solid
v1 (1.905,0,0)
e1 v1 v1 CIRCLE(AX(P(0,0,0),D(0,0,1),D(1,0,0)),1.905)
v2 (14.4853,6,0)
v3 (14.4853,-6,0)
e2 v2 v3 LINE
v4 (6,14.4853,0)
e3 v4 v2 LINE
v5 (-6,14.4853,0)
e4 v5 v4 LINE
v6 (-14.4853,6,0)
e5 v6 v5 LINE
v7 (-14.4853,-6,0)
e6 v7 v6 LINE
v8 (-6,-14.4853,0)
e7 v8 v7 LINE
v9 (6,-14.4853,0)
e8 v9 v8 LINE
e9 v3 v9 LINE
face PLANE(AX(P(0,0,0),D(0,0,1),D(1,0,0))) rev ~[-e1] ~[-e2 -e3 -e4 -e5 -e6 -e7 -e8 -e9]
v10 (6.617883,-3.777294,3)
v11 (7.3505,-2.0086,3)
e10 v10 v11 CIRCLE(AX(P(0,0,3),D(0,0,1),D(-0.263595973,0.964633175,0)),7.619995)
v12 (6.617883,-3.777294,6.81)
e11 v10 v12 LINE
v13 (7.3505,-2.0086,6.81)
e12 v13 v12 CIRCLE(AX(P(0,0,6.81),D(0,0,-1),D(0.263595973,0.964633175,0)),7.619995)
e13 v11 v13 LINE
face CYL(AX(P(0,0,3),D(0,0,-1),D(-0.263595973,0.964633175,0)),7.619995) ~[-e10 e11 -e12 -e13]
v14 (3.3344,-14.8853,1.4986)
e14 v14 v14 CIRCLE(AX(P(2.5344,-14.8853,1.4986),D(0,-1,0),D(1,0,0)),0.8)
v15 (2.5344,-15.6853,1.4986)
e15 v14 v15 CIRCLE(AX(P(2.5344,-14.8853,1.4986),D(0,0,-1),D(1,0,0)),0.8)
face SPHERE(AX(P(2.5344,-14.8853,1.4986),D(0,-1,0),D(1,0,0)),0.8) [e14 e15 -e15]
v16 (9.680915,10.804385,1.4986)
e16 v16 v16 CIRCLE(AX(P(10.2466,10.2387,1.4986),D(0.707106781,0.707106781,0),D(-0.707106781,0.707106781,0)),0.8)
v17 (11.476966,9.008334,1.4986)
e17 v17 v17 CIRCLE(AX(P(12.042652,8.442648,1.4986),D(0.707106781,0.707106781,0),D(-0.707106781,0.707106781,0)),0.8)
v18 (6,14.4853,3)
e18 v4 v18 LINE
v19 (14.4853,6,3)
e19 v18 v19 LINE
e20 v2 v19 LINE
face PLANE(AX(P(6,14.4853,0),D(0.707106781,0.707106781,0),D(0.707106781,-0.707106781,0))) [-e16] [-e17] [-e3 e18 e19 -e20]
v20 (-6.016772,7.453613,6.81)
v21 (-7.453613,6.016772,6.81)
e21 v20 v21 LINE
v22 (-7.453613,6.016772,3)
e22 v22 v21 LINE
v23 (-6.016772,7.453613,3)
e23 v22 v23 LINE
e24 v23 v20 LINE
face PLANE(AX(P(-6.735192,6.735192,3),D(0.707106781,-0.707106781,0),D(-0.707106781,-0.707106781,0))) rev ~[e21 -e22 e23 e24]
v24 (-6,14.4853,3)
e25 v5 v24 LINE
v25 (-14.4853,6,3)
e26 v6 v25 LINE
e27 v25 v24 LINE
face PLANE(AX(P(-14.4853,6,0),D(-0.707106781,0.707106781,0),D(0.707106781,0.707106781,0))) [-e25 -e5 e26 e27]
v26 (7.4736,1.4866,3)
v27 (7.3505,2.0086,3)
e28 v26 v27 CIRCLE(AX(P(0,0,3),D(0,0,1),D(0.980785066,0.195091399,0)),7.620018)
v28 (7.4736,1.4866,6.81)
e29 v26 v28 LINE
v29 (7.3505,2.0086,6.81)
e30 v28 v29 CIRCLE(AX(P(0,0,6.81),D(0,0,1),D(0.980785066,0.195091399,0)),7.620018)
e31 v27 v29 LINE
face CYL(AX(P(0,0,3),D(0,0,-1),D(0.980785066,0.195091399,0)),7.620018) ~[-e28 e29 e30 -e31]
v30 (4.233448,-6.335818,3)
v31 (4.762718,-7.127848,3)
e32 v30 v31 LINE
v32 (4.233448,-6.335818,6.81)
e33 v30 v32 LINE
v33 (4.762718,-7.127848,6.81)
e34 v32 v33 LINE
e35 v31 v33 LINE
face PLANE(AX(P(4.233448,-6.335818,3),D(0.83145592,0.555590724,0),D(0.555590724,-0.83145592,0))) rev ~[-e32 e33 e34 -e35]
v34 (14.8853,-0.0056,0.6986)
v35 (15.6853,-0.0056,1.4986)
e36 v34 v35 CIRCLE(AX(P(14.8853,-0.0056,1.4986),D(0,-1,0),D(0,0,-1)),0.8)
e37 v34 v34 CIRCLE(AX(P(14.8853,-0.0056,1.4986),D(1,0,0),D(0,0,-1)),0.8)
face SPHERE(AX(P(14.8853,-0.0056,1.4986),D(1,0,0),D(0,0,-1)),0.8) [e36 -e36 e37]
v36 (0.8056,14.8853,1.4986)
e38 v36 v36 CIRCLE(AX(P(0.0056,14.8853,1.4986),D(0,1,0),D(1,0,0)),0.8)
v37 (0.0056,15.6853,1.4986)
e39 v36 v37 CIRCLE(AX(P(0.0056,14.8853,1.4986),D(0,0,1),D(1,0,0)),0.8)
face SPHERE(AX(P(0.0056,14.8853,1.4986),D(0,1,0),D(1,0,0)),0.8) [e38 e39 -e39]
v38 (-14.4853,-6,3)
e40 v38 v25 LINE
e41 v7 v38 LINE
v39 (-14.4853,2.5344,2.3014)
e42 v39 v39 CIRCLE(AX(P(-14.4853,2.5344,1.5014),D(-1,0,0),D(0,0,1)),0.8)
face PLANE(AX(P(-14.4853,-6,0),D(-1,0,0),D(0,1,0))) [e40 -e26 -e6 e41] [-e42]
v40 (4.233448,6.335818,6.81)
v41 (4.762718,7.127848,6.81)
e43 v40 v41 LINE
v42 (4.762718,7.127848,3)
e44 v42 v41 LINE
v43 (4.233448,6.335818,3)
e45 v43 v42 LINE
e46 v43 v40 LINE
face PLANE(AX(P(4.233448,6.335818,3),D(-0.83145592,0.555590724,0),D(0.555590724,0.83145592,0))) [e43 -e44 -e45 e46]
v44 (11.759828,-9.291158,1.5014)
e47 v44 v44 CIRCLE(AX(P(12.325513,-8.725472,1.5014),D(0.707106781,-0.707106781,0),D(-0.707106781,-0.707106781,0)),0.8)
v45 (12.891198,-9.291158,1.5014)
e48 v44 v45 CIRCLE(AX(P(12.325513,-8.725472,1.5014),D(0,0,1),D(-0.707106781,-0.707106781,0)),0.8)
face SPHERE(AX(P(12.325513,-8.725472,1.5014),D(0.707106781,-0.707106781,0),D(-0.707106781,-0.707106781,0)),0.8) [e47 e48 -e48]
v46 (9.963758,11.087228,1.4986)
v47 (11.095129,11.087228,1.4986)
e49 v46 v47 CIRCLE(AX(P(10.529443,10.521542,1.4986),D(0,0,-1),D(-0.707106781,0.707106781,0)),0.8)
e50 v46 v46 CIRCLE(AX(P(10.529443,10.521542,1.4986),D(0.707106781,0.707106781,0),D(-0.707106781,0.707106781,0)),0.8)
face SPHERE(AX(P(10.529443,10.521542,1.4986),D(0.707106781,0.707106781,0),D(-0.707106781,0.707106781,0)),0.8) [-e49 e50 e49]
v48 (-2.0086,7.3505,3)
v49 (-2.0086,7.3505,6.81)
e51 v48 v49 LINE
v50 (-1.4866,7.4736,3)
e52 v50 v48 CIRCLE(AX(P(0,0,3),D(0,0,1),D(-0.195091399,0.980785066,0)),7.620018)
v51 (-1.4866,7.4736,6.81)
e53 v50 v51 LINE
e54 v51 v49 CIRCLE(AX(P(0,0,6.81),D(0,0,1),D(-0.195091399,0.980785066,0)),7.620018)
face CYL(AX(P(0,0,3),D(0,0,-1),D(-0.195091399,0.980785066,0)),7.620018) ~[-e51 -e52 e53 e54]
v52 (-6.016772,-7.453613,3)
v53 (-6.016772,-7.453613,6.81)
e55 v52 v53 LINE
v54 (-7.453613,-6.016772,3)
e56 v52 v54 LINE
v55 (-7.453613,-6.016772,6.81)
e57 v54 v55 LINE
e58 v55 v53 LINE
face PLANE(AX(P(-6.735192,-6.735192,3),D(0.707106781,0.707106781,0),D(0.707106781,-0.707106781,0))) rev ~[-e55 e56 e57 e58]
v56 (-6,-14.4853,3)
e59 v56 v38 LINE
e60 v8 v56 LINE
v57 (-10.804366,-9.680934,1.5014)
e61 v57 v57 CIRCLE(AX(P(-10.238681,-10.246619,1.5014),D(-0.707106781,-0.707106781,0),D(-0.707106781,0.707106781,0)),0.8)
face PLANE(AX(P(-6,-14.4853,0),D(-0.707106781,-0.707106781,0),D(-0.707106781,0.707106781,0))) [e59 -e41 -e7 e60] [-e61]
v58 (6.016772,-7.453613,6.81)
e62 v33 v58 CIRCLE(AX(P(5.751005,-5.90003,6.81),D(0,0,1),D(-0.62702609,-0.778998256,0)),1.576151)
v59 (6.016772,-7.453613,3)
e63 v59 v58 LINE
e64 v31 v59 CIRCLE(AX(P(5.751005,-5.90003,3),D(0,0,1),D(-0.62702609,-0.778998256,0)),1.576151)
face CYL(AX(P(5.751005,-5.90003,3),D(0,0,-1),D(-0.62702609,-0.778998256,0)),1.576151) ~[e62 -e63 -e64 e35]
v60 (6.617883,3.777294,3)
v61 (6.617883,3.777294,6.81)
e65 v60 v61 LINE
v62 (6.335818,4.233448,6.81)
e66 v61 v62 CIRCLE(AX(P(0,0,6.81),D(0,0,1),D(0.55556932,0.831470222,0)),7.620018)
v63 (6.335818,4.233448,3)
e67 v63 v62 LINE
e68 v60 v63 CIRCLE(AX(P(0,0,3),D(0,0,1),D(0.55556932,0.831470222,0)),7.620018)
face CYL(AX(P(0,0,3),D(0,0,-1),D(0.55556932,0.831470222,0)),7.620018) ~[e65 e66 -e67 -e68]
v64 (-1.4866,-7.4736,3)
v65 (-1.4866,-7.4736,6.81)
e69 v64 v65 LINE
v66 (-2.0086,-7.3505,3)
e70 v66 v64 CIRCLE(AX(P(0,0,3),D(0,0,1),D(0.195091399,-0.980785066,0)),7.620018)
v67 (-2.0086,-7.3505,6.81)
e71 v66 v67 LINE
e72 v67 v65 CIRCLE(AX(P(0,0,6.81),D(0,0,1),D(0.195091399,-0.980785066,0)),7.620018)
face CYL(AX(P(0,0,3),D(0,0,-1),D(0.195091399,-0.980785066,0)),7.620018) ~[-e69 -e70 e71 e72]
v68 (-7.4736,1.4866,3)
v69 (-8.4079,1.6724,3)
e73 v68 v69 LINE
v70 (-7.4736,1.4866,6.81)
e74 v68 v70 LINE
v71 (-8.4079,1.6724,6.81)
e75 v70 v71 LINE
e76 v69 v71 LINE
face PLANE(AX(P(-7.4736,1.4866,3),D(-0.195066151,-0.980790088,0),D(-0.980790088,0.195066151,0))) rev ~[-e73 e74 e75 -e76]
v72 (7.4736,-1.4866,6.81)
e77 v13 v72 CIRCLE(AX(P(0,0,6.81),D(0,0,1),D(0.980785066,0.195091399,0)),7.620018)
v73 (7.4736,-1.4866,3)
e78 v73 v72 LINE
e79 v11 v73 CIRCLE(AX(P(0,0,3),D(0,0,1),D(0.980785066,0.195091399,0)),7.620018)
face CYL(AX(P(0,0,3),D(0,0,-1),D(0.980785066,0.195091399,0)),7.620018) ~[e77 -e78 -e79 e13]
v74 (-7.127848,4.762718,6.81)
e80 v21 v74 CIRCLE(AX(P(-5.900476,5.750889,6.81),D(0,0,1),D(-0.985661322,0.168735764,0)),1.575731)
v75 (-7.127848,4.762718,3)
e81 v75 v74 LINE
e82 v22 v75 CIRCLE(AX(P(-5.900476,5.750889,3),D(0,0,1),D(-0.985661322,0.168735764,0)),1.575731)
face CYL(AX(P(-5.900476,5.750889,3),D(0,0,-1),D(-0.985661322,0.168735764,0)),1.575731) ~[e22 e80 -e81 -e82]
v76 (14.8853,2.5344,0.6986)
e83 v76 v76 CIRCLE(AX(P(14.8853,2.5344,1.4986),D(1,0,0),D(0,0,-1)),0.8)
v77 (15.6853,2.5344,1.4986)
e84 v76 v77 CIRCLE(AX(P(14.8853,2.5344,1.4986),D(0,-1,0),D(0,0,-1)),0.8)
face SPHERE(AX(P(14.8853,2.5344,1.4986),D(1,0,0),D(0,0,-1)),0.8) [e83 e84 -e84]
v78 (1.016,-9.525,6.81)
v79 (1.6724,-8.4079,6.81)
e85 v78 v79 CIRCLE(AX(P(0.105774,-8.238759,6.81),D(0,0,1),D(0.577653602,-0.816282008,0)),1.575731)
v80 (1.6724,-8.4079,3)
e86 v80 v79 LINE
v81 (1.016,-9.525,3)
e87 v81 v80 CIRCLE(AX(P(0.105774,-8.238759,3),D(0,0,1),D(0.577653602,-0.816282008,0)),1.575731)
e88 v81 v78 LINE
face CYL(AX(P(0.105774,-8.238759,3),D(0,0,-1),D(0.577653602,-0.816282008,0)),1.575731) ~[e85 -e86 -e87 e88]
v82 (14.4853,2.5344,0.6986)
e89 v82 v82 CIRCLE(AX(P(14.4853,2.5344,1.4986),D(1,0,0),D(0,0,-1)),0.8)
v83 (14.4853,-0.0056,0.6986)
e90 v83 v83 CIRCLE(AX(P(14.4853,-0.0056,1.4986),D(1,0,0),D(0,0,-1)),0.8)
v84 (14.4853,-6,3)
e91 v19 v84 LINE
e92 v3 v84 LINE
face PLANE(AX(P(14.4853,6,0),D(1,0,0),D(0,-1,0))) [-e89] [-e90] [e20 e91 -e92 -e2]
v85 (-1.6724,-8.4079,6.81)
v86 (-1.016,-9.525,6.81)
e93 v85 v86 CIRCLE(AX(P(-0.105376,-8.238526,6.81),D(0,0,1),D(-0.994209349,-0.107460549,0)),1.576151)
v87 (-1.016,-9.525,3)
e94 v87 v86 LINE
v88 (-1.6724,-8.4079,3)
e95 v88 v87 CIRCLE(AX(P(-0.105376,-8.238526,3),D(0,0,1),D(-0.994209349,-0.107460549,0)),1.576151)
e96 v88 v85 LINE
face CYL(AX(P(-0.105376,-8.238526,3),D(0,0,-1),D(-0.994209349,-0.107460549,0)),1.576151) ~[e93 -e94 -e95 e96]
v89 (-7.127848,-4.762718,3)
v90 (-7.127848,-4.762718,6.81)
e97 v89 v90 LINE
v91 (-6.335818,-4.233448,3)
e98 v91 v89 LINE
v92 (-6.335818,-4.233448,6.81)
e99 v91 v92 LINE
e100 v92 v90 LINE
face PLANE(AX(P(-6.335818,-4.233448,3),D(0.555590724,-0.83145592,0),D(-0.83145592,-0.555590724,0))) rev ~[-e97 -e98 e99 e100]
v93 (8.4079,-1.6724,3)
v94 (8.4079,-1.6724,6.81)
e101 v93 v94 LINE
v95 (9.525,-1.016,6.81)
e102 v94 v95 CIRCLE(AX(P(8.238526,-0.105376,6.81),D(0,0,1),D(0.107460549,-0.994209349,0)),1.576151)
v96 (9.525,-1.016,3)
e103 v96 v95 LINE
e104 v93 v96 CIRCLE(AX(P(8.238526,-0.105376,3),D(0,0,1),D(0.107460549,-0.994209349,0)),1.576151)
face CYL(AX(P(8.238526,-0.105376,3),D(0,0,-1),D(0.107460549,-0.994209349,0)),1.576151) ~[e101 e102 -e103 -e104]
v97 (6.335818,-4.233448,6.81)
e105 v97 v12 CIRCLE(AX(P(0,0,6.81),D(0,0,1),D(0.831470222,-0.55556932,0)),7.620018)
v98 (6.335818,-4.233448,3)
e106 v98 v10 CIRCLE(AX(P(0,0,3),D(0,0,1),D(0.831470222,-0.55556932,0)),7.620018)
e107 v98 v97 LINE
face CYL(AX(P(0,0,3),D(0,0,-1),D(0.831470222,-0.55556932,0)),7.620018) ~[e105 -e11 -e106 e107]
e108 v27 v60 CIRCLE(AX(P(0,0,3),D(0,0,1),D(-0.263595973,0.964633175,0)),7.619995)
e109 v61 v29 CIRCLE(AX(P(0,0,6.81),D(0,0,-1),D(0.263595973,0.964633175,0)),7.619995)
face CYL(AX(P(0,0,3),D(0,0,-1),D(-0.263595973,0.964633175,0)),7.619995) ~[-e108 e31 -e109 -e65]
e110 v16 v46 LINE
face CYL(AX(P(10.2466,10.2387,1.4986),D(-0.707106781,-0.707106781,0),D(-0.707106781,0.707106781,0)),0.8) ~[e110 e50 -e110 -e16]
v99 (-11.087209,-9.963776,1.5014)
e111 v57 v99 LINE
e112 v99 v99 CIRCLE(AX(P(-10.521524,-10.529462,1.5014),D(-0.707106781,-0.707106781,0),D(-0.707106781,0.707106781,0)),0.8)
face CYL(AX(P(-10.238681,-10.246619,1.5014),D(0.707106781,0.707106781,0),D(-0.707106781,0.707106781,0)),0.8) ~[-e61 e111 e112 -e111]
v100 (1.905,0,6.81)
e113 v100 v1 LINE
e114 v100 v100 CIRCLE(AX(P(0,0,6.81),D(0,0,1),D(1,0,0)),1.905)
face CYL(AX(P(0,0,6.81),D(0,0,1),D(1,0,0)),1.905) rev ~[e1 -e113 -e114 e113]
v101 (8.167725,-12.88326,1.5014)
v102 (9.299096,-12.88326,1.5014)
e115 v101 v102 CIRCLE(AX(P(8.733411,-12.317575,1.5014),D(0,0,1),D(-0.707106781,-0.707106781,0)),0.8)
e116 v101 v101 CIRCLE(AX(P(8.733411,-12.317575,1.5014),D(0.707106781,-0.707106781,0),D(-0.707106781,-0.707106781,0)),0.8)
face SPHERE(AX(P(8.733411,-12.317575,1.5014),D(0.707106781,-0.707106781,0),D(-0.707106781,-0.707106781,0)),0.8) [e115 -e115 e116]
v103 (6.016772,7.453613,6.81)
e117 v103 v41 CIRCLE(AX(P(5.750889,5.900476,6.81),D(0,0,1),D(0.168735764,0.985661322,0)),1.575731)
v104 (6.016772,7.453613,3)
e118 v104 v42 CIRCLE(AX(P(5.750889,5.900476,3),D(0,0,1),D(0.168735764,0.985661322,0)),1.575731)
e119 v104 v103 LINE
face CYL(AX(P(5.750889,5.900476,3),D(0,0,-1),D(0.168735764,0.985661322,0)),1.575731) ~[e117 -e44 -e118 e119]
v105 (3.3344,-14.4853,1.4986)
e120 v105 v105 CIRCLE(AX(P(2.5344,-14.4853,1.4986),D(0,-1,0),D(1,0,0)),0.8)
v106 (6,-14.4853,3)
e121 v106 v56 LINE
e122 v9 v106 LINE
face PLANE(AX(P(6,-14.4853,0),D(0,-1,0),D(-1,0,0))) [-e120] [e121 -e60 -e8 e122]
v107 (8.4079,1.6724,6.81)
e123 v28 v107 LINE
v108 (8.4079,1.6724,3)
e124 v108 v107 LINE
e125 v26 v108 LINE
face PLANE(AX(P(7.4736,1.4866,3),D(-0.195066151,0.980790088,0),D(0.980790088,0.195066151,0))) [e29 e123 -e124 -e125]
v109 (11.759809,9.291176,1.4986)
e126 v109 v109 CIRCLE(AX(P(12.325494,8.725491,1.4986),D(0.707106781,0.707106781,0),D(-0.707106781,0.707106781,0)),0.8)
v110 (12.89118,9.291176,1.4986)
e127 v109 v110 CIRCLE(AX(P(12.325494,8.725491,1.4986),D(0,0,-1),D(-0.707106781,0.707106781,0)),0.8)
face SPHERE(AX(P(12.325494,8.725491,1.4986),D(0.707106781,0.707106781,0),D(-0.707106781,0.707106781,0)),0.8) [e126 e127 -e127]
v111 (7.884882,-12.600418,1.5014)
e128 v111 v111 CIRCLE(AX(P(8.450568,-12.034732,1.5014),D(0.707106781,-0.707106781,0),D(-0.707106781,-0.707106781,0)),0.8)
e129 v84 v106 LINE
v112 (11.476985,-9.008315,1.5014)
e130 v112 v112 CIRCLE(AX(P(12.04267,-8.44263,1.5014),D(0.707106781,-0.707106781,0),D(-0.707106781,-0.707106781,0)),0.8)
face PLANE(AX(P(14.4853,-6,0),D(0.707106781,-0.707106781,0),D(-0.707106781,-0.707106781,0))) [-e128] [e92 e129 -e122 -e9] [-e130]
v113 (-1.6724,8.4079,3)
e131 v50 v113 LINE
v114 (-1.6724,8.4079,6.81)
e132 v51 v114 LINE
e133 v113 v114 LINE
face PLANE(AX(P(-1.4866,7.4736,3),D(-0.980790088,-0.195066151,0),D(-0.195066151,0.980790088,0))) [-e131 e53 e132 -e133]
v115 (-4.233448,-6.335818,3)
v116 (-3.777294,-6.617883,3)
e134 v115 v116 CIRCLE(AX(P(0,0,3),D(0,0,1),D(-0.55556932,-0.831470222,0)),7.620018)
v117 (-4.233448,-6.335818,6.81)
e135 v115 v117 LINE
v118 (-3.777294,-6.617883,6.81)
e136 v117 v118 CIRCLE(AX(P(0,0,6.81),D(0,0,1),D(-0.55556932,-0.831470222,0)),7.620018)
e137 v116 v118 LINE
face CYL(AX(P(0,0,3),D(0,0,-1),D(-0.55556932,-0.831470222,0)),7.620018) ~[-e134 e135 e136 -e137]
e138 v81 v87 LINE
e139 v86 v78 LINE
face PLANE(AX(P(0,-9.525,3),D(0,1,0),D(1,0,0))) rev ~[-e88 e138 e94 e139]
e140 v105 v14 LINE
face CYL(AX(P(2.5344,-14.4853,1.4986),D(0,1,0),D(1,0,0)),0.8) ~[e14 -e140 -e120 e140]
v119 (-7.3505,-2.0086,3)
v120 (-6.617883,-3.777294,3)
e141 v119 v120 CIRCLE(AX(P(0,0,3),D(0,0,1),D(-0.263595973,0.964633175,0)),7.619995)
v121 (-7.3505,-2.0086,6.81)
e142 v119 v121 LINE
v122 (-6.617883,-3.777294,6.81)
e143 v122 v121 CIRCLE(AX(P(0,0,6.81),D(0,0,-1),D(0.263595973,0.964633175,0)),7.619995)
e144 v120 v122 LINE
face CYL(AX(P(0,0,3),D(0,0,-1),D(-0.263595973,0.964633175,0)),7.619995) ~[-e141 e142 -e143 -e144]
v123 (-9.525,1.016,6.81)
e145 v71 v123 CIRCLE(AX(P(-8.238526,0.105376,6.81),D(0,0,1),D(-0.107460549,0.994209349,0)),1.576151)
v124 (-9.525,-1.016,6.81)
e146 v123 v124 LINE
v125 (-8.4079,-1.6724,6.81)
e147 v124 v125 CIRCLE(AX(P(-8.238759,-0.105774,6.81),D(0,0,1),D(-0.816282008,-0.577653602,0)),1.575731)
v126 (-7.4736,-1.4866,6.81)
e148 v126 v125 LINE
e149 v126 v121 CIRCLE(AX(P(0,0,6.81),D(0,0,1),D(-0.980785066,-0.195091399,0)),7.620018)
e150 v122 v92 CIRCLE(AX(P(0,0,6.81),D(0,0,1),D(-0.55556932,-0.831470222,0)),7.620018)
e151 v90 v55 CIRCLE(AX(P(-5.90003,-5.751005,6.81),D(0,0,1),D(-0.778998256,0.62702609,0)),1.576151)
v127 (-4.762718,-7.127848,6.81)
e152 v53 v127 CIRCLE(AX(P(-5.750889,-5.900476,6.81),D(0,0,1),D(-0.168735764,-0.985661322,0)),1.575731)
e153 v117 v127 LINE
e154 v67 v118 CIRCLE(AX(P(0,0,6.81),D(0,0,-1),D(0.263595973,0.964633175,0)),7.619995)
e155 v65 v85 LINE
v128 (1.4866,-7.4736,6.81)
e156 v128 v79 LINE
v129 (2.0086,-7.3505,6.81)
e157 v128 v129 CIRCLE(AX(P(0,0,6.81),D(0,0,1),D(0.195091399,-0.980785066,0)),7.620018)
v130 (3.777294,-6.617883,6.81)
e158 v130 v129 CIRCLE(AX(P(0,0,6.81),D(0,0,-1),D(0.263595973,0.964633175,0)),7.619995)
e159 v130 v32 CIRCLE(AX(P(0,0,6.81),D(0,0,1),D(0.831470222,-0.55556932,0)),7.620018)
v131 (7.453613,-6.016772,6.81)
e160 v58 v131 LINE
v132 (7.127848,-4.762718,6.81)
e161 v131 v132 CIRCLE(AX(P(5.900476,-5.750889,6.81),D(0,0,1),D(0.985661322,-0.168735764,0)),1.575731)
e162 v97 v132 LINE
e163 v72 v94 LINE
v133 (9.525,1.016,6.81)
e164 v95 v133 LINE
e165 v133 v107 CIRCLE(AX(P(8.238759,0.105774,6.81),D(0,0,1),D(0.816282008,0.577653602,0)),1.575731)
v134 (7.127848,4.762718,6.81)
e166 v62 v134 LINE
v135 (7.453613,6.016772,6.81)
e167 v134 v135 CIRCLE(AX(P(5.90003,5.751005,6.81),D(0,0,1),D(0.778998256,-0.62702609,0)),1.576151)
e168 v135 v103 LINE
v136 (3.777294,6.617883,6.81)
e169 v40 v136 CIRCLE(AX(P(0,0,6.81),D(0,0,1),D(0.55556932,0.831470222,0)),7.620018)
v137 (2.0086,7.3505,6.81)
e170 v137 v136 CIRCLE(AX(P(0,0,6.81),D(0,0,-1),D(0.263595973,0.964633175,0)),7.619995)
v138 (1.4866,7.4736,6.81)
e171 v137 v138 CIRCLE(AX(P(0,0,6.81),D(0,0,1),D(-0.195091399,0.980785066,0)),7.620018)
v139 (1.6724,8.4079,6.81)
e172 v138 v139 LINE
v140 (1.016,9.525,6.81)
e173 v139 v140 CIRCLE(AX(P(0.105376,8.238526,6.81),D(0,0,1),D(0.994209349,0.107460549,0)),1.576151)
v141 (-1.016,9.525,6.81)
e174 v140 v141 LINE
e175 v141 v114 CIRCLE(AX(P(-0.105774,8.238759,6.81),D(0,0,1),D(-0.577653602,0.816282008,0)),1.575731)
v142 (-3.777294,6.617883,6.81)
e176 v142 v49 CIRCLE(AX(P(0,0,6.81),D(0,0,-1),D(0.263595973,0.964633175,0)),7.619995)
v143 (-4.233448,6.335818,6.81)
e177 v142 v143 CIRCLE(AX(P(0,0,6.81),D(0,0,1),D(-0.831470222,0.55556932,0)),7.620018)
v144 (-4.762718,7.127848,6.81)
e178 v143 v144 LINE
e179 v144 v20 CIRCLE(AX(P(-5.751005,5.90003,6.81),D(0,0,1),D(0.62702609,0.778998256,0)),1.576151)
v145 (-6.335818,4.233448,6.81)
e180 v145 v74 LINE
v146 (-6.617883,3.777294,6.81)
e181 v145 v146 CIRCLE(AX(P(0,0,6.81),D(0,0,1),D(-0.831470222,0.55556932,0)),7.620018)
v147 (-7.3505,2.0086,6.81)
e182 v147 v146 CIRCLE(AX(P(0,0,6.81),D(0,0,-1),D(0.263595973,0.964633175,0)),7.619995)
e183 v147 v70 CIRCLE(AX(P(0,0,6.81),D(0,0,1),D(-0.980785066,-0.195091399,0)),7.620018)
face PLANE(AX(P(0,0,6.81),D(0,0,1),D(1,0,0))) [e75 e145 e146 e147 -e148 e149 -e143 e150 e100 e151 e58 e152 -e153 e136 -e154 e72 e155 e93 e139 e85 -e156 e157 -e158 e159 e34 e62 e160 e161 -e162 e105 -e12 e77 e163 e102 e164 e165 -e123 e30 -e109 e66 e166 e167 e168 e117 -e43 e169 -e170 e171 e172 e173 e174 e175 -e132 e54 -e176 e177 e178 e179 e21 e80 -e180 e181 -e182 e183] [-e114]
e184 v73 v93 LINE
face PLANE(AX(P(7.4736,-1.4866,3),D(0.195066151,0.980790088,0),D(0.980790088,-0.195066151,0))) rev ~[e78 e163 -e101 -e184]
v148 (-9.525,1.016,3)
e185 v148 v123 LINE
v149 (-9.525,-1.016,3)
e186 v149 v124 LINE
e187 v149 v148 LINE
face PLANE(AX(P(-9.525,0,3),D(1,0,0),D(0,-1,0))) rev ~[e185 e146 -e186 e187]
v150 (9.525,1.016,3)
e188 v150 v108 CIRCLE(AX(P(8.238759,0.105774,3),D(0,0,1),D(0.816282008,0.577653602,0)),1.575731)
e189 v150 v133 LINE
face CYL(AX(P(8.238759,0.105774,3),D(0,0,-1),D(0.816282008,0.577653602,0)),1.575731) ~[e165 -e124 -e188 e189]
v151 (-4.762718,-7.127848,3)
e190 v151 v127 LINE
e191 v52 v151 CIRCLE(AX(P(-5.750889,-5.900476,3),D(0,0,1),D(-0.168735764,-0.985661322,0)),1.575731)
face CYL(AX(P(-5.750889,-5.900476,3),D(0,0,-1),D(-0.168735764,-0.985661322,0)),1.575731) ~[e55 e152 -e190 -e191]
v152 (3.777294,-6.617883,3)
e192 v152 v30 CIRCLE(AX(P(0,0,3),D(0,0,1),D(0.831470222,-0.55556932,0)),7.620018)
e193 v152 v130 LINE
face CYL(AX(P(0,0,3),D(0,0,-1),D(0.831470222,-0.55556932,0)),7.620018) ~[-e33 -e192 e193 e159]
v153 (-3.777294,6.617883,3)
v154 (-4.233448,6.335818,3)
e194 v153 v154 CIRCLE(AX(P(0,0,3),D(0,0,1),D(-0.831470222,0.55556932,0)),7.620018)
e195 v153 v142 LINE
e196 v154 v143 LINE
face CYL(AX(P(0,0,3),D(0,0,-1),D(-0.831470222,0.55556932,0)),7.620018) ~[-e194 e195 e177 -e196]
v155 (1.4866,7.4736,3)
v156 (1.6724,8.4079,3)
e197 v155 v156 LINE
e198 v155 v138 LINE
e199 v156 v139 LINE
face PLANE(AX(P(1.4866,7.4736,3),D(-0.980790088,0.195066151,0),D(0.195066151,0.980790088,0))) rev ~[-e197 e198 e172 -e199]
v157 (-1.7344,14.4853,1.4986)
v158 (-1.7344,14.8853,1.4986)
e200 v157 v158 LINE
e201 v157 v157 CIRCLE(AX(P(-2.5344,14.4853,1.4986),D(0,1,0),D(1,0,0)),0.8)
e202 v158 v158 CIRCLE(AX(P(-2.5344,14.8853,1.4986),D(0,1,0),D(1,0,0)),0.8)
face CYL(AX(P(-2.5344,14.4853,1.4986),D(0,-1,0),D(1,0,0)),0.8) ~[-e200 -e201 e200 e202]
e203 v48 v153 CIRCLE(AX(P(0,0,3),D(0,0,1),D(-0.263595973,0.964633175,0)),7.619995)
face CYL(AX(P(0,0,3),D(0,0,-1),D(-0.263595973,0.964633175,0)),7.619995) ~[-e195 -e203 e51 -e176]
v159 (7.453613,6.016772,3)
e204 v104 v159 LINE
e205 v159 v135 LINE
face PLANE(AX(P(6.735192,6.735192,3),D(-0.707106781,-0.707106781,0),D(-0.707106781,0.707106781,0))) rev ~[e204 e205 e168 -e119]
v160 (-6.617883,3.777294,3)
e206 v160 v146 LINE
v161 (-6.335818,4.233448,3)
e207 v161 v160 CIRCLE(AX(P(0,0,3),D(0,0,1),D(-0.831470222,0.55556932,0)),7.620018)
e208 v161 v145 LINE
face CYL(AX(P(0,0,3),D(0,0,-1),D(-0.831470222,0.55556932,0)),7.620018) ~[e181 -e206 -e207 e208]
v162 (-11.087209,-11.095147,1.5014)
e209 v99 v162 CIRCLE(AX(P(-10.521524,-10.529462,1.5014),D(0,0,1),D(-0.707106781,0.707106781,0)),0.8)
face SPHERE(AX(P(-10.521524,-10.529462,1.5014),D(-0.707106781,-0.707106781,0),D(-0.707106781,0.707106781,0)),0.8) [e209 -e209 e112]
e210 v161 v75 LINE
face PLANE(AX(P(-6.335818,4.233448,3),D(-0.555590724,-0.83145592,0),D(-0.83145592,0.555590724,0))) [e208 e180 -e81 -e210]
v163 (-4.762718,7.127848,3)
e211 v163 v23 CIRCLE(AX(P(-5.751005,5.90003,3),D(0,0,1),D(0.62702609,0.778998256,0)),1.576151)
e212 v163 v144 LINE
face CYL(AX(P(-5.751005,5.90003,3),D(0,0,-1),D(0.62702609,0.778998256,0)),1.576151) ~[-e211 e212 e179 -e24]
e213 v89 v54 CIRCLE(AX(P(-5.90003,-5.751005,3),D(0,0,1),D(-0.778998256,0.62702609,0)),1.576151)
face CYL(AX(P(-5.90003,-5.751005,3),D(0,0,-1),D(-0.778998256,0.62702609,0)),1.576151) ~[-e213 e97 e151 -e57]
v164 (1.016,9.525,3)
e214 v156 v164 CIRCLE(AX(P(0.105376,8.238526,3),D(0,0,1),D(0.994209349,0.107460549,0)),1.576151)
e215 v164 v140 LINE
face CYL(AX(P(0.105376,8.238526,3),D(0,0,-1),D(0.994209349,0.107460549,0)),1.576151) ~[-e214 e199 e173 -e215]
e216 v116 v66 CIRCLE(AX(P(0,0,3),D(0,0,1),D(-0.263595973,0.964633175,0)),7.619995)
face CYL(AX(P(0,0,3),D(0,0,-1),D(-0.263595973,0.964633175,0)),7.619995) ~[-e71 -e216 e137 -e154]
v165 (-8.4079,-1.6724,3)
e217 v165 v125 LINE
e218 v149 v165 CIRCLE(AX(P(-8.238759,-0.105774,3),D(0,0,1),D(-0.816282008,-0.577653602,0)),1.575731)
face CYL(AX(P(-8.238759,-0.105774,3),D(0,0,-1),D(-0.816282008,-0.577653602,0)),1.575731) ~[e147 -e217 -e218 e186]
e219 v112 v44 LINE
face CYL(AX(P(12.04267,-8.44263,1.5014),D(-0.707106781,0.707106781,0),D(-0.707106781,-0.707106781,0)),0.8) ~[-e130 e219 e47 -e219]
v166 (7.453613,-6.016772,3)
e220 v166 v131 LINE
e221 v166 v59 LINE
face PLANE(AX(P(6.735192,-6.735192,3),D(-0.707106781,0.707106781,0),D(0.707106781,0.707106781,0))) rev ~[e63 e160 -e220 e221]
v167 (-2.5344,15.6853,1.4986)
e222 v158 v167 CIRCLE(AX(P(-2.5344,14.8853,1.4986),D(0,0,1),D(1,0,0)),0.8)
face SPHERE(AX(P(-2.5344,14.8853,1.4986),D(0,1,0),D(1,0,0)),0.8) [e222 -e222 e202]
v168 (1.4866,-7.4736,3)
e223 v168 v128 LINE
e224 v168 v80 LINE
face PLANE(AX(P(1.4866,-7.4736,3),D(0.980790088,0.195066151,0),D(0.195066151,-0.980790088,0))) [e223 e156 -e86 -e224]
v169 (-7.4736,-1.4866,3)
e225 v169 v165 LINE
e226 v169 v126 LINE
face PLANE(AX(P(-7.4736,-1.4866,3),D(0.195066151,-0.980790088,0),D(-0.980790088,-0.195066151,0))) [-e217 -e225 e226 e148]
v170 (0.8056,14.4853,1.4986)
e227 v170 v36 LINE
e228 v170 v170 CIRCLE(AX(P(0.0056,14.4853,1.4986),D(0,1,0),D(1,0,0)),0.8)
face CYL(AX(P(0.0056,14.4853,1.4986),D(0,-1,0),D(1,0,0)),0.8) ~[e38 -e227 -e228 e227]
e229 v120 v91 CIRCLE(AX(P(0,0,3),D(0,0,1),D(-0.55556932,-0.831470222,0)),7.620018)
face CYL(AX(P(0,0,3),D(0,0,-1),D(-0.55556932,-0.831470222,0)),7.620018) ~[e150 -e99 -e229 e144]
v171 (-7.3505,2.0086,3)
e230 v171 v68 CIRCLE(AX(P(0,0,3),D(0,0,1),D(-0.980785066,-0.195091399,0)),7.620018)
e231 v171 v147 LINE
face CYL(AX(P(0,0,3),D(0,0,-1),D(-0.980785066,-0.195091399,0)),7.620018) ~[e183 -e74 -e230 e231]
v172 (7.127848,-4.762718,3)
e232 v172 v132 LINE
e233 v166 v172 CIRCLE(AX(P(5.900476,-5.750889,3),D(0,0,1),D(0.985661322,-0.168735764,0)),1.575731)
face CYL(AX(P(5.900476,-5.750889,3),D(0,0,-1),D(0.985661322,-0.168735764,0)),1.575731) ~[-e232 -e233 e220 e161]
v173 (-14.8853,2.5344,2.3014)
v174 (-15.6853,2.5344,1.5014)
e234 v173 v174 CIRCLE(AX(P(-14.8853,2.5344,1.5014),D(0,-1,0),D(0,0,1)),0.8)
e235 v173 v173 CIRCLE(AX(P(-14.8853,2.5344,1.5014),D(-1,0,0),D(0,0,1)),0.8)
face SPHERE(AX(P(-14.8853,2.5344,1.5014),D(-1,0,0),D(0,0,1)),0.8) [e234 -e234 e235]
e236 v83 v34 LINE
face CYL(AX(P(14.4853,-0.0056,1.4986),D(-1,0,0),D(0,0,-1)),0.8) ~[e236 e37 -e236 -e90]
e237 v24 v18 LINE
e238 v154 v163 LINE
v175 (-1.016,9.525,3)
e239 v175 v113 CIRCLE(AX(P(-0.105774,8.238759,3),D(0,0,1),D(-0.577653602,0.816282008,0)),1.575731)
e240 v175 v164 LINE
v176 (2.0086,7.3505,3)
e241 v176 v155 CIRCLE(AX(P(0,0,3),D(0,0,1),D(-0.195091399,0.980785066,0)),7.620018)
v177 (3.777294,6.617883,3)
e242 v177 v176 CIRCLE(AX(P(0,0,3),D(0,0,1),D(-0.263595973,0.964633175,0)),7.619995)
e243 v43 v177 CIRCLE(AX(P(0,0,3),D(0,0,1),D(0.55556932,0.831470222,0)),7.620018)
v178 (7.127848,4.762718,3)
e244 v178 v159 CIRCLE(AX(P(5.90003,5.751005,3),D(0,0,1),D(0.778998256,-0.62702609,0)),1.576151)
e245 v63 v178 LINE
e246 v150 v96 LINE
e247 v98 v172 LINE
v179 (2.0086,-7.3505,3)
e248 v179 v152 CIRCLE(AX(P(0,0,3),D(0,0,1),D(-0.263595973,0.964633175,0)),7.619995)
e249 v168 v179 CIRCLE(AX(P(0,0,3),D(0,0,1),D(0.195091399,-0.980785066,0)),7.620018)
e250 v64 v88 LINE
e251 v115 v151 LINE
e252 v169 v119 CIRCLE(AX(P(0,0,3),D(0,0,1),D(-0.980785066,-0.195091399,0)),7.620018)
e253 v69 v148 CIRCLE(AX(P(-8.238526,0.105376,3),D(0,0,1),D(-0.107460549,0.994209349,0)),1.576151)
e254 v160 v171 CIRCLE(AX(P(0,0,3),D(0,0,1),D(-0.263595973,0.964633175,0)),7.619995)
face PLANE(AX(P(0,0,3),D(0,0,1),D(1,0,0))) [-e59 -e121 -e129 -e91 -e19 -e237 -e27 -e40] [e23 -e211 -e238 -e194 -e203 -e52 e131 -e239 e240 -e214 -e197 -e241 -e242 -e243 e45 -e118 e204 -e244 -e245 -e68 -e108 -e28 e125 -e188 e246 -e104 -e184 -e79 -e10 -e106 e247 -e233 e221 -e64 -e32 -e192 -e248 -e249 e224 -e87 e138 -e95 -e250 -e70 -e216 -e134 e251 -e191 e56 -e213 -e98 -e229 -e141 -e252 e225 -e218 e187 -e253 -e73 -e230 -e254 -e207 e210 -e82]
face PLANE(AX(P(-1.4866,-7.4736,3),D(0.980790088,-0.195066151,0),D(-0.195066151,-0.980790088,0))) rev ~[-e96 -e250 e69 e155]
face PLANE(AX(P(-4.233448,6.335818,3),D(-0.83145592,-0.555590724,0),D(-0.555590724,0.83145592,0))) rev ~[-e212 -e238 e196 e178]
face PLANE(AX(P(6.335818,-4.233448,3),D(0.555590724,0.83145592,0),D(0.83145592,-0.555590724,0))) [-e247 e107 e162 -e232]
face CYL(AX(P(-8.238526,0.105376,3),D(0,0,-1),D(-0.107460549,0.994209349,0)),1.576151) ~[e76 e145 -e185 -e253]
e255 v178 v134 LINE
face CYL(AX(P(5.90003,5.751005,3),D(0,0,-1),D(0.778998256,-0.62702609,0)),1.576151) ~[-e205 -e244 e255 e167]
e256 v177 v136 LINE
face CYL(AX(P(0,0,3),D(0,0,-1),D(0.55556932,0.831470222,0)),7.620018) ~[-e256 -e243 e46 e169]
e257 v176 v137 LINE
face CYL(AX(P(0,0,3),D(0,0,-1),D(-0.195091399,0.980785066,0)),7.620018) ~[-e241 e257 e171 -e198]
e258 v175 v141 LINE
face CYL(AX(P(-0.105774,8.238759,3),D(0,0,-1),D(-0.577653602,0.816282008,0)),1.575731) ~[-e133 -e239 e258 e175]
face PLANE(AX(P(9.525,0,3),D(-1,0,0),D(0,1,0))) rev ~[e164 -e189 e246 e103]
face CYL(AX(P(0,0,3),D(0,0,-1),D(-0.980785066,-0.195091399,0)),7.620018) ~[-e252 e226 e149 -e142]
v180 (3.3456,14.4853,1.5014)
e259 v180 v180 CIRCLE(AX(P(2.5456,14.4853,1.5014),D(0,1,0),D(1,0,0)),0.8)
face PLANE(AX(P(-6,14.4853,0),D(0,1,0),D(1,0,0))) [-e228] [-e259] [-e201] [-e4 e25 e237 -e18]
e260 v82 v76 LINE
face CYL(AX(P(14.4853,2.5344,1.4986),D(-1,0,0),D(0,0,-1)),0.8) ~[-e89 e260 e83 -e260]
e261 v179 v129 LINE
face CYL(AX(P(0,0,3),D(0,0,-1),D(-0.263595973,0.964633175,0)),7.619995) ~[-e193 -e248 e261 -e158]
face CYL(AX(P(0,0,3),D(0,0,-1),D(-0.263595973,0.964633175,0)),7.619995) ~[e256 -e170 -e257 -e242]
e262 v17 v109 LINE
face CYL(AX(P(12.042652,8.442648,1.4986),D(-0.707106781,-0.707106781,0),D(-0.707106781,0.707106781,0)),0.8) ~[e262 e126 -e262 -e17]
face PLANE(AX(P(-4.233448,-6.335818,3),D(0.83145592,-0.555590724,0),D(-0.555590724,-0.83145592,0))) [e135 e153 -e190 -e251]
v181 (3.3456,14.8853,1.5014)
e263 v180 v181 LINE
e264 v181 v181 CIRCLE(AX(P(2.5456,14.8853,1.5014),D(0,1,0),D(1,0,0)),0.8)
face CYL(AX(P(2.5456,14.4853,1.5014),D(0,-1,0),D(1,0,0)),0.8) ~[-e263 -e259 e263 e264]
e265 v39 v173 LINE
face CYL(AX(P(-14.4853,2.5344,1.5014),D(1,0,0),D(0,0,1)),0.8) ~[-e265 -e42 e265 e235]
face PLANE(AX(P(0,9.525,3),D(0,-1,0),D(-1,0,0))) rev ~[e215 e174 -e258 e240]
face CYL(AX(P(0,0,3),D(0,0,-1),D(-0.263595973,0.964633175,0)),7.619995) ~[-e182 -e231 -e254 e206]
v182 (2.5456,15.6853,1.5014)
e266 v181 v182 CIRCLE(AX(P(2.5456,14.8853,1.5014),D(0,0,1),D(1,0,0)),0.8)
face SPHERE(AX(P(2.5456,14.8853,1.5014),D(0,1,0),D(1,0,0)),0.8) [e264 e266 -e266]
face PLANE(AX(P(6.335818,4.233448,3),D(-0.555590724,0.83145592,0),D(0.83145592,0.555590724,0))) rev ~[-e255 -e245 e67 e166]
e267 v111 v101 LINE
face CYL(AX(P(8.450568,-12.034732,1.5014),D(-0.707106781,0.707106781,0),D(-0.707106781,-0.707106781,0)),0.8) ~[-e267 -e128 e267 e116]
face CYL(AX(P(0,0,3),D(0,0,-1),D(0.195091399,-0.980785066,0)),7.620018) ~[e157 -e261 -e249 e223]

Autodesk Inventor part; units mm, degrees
ref_plane "YZ Plane" through (0, 0, 0) normal (1, 0, 0) x (0, 1, 0)
ref_plane "XZ Plane" through (0, 0, 0) normal (0, 1, 0) x (-1, 0, 0)
ref_plane "XY Plane" through (0, 0, 0) normal (0, 0, 1) x (1, 0, 0)
sketch "Sketch1" plane through (0, 0, 0) normal (0, 0, 1) x (1, 0, 0)
  line L0 (6, 14.4853) -> (14.4853, 6)
  line L1 (14.4853, 6) -> (14.4853, -6)
  line L2 (14.4853, -6) -> (6, -14.4853)
  line L3 (6, -14.4853) -> (-6, -14.4853)
  line L4 (-6, -14.4853) -> (-14.4853, -6)
  line L5 (-14.4853, -6) -> (-14.4853, 6)
  line L6 (-14.4853, 6) -> (-6, 14.4853)
  line L7 (-6, 14.4853) -> (6, 14.4853)
  point P0 (0, 0)
  point P1 (0, 0)
  dimension "d2" = 12
extrude "Extrusion1" add sketch "Sketch1" along normal blind 3
sketch "Sketch2" plane through (-6, 14.4853, 0) normal (0, 1, 0) x (1, 0, 0)
  circle A0 centre (3.4656, -1.4986) radius 0.8
  circle A1 centre (6.0056, -1.4986) radius 0.8
  circle A2 centre (8.5456, -1.5014) radius 0.8
  line L0 (0, 0) -> (12, 0) projected
  line L1 (0, 0) -> (0, -3) projected
  line L2 (0, -3) -> (12, -3) projected
  line L3 (12, 0) -> (12, -3) projected
  point P0 (6, 0)
  dimension "d5" = 1.6
  dimension "d6" = 2.54
  dimension "d7" = 2.54
  dimension "d8" = 1.6
  dimension "d9" = 1.6
  dimension "d10" = 1.4986
  dimension "d24" = 1.4986
  dimension "d170" = 5.9944
extrude "Extrusion2" add sketch "Sketch2" along normal blind 1.2 contours A0 | A1 | A2
fillet "Fillet1" radius 0.8 3 edges at (1.7456, 15.6853, 1.5014) (-0.7944, 15.6853, 1.4986) (-3.3344, 15.6853, 1.4986)
sketch "Sketch3" plane through (6, 14.4853, 0) normal (0.7071, 0.7071, 0) x (-0.7071, 0.7071, 0)
  circle A0 centre (-8.5456, 1.4986) radius 0.8
  circle A1 centre (-6.0056, 1.4986) radius 0.8
  circle A2 centre (-3.4656, 1.4986) radius 0.8
  line L0 (-10.0061, 2.6736) -> (-10.0061, 0)
  line L1 (-10.0061, 0) -> (0.0295, 0)
  line L2 (0, 3) -> (-12, 3) projected
  line L3 (-12, 0) -> (0, 0) projected
  line L4 (-12, 0) -> (-12, 3) projected
  point P0 (-3.9705, 2.6736)
  dimension "d25" = 1.6
  dimension "d26" = 2.54
  dimension "d27" = 2.54
  dimension "d28" = 1.6
  dimension "d29" = 1.6
  dimension "d31" = 1.4605
  dimension "d32" = 1.4986
  dimension "d34" = 0
  dimension "d35" = 1.4986
  dimension "d36" = 1.4986
  dimension "d169" = 5.9944
sketch "Sketch4" plane through (14.4853, -6, 0) normal (1, 0, 0) x (0, 0, -1)
  circle A0 centre (-1.4986, 3.4544) radius 0.8
  circle A1 centre (-1.4986, 5.9944) radius 0.8
  circle A2 centre (-1.4986, 8.5344) radius 0.8
  line L0 (0.3264, 0) -> (0, 0)
  line L1 (0, 0) -> (0, 3.0295)
  line L2 (0, 3) -> (0, -5)
  line L3 (0, -5) -> (0, 3)
  line L4 (0, 12) -> (0, 0) projected
  line L5 (0, 0) -> (-3, 0) projected
  point P0 (0, 6)
  point P1 (0.3264, -0.9705)
  dimension "d40" = 1.6
  dimension "d41" = 2.54
  dimension "d42" = 2.54
  dimension "d43" = 1.6
  dimension "d44" = 1.6
  dimension "d46" = 1.4986
  dimension "d47" = 0
  dimension "d48" = 1.4986
  dimension "d49" = 1.4986
  dimension "d50" = 0
  dimension "d51" = 0
  dimension "d171" = 5.9944
sketch "Sketch6" plane through (-14.4853, -6, 0) normal (-1, 0, 0) x (0, 0, 1)
  circle A0 centre (1.5014, 3.4544) radius 0.8
  circle A1 centre (1.5014, 5.9944) radius 0.8
  circle A2 centre (1.5014, 8.5344) radius 0.8
  line L0 (1.3264, 0) -> (3, 0)
  line L1 (3, 0) -> (3, 4.0295)
  line L2 (3, -4) -> (3, 4)
  line L3 (0, 0) -> (0, 12) projected
  line L4 (3, 12) -> (3, 0) projected
  line L5 (0, 0) -> (3, 0) projected
  point P0 (0, 6)
  point P1 (1.3264, 0.0295)
  dimension "d70" = 1.6
  dimension "d71" = 2.54
  dimension "d72" = 2.54
  dimension "d73" = 1.6
  dimension "d74" = 1.6
  dimension "d76" = 1.4986
  dimension "d77" = 0
  dimension "d78" = 1.4986
  dimension "d79" = 1.4986
  dimension "d81" = 0
  dimension "d82" = 0
  dimension "d176" = 5.9944
sketch "Sketch7" plane through (-6, -14.4853, 3) normal (-0.7071, -0.7071, 0) x (-0.7071, 0.7071, 0)
  circle A0 centre (3.4544, 1.4986) radius 0.8
  circle A1 centre (5.9944, 1.4986) radius 0.8
  circle A2 centre (8.5344, 1.4986) radius 0.8
  line L0 (0, 1.115) -> (0, 0)
  line L1 (0, 0) -> (3.9792, 0)
  line L2 (7.9497, 0) -> (0, 0)
  line L3 (0, 2.4413) -> (0, 0)
  line L4 (0, 0) -> (12, 0) projected
  line L5 (0, 3) -> (0, 0) projected
  point P0 (6, 3)
  point P1 (3.9497, 2.4413)
  point P2 (-0.0208, 1.115)
  point P3 (3.9497, -0.5587)
  dimension "d83" = 1.6
  dimension "d84" = 2.54
  dimension "d85" = 2.54
  dimension "d86" = 1.6
  dimension "d87" = 1.6
  dimension "d89" = 1.4986
  dimension "d90" = 1.4986
  dimension "d91" = 1.4986
  dimension "d92" = 0
  dimension "d93" = 0
  dimension "d94" = 0
  dimension "d95" = 0
  dimension "d175" = 5.9944
sketch "Sketch8" plane through (-6, -14.4853, 0) normal (0, -1, 0) x (1, 0, 0)
  line L0 (7.9497, 0) -> (0, 0)
  line L1 (0, 0) -> (3.9792, 0)
  line L2 (0, 1.115) -> (0, 0)
  circle A0 centre (3.4544, 1.4986) radius 0.8
  circle A1 centre (8.5344, 1.4986) radius 0.8
  line L3 (0, 2.4413) -> (0, 0)
  circle A2 centre (5.9944, 1.4986) radius 0.8
  line L4 (0, 0) -> (8, 0)
  line L5 (0, 3) -> (0, 0)
  point P0 (6, 0)
  point P1 (4, 3)
  point P2 (3.9497, -0.5587)
  point P3 (-0.0208, 1.115)
  point P4 (3.9497, 2.4413)
  dimension "d96" = 1.6
  dimension "d97" = 2.54
  dimension "d98" = 2.54
  dimension "d99" = 1.6
  dimension "d100" = 1.6
  dimension "d102" = 1.4986
  dimension "d103" = 1.4986
  dimension "d104" = 1.4986
  dimension "d105" = 0
  dimension "d106" = 0
  dimension "d107" = 0
  dimension "d108" = 0
  dimension "d173" = 5.9944
sketch "Sketch9" plane through (14.4853, -6, 3) normal (0.7071, -0.7071, 0) x (-0.7071, -0.7071, 0)
  line L0 (7.9497, 0) -> (0, 0)
  line L1 (0, 0) -> (3.9792, 0)
  line L2 (0, 1.115) -> (0, 0)
  circle A0 centre (3.4544, 1.4986) radius 0.8
  circle A1 centre (8.5344, 1.4986) radius 0.8
  line L3 (0, 2.4413) -> (0, 0)
  circle A2 centre (5.9944, 1.4986) radius 0.8
  line L4 (0, 0) -> (8, 0)
  line L5 (0, 3) -> (0, 0)
  point P0 (6, 3)
  point P1 (4, 3)
  point P2 (3.9497, -0.5587)
  point P3 (-0.0208, 1.115)
  point P4 (3.9497, 2.4413)
  dimension "d109" = 1.6
  dimension "d110" = 2.54
  dimension "d111" = 2.54
  dimension "d112" = 1.6
  dimension "d113" = 1.6
  dimension "d115" = 1.4986
  dimension "d116" = 1.4986
  dimension "d117" = 1.4986
  dimension "d118" = 0
  dimension "d119" = 0
  dimension "d120" = 0
  dimension "d121" = 0
  dimension "d172" = 5.9944
extrude "Extrusion6" add sketch "Sketch3" along normal blind 1.2 contours A0 | A1
fillet "Fillet5" radius 0.8 2 edges at (11.6608, 10.5215, 1.4986) (13.4569, 8.7255, 1.4986)
extrude "Extrusion7" add sketch "Sketch4" along normal blind 1.2 contours A1 | A2
fillet "Fillet6" radius 0.8 2 edges at (15.6853, 2.5344, 2.2986) (15.6853, -0.0056, 2.2986)
extrude "Extrusion8" add sketch "Sketch9" along normal blind 1.2 contours A0 | A1
fillet "Fillet7" radius 0.8 2 edges at (13.4569, -8.7255, 1.5014) (9.8648, -12.3176, 1.5014)
extrude "Extrusion9" add sketch "Sketch8" along normal blind 1.2 contours A1
fillet "Fillet8" radius 0.8 1 edges at (1.7344, -15.6853, 1.4986)
extrude "Extrusion10" add sketch "Sketch7" along normal blind 1.2 contours A1
fillet "Fillet9" radius 0.8 1 edges at (-10.5215, -11.6608, 1.5014)
extrude "Extrusion11" add sketch "Sketch6" along normal blind 1.2 contours A2
fillet "Fillet10" radius 0.8 1 edges at (-15.6853, 2.5344, 0.7014)
sketch "Sketch11" plane through (0, 0, 3) normal (0, 0, 1) x (1, 0, 0)
  arc A0 (-2.0086, 7.3505) -> (2.0086, 7.3505) centre (0, 0) ccw
  line L0 (0, 7.62) -> (0, 9.525)
  line L1 (0, 9.525) -> (1.016, 9.525)
  line L2 (0, 9.525) -> (-1.016, 9.525)
  arc A1 (-1.4866, 7.4736) -> (1.4866, 7.4736) centre (0, 0) ccw
  line L3 (-1.4866, 7.4736) -> (-1.8582, 9.342)
  line L4 (-2.916, 7.04) -> (-3.6451, 8.8)
  line L5 (-4.2334, 6.3358) -> (-5.2918, 7.9197)
  line L6 (-5.3882, 5.3882) -> (-6.7352, 6.7352)
  line L7 (-6.3358, 4.2334) -> (-7.9197, 5.2918)
  line L8 (-7.04, 2.916) -> (-8.8, 3.6451)
  line L9 (-7.4736, 1.4866) -> (-9.342, 1.8582)
  line L10 (-7.62, 0) -> (-9.525, 0)
  line L11 (-7.4736, -1.4866) -> (-9.342, -1.8582)
  line L12 (-7.04, -2.916) -> (-8.8, -3.6451)
  line L13 (-6.3358, -4.2334) -> (-7.9197, -5.2918)
  line L14 (-5.3882, -5.3882) -> (-6.7352, -6.7352)
  line L15 (-4.2334, -6.3358) -> (-5.2918, -7.9197)
  line L16 (-2.916, -7.04) -> (-3.6451, -8.8)
  line L17 (-1.4866, -7.4736) -> (-1.8582, -9.342)
  line L18 (0, -7.62) -> (0, -9.525)
  line L19 (1.4866, -7.4736) -> (1.8582, -9.342)
  line L20 (2.916, -7.04) -> (3.6451, -8.8)
  line L21 (4.2334, -6.3358) -> (5.2918, -7.9197)
  line L22 (5.3882, -5.3882) -> (6.7352, -6.7352)
  line L23 (6.3358, -4.2334) -> (7.9197, -5.2918)
  line L24 (7.04, -2.916) -> (8.8, -3.6451)
  line L25 (7.4736, -1.4866) -> (9.342, -1.8582)
  line L26 (7.62, 0) -> (9.525, 0)
  line L27 (7.4736, 1.4866) -> (9.342, 1.8582)
  line L28 (7.04, 2.916) -> (8.8, 3.6451)
  line L29 (6.3358, 4.2334) -> (7.9197, 5.2918)
  line L30 (5.3882, 5.3882) -> (6.7352, 6.7352)
  line L31 (4.2334, 6.3358) -> (5.2918, 7.9197)
  line L32 (2.916, 7.04) -> (3.6451, 8.8)
  line L33 (1.4866, 7.4736) -> (1.8582, 9.342)
  arc A2 (-1.4866, 7.4736) -> (1.4866, 7.4736) centre (0, 0) ccw
  arc A3 (-1.016, 9.525) -> (-1.6724, 8.4079) centre (-0.1056, 8.2386) ccw
  arc A4 (1.6724, 8.4079) -> (1.016, 9.525) centre (0.1056, 8.2386) ccw
  circle A5 centre (0, 0) radius 7.62
  line L34 (-1.4866, 7.4736) -> (-1.6724, 8.4079)
  line L35 (-1.016, 9.525) -> (1.016, 9.525)
  line L36 (1.6724, 8.4079) -> (1.4866, 7.4736)
  arc A6 (-1.016, 9.525) -> (-1.6724, 8.4079) centre (-0.1056, 8.2386) ccw
  arc A7 (1.6724, 8.4079) -> (1.016, 9.525) centre (0.1056, 8.2386) ccw
  dimension "d148" = 15.24
  dimension "d156" = 360
  dimension "d161" = 1.016
  dimension "d162" = 1.016
  dimension "d168" = 1.905
extrude "Extrusion14" add sketch "Sketch11" along normal blind 3.81
pattern_circular "Circular Pattern4" count 8 over 360 about axis through (0, 0, 3) along (0, 0, 1) of "Extrusion14"
sketch "Sketch12" plane through (0, 0, 6.81) normal (0, 0, 1) x (1, 0, 0)
  circle A0 centre (0, 0) radius 1.905
  dimension "d177" = 3.81
extrude "Extrusion15" cut sketch "Sketch12" against normal up to next
sketch "Sketch13" plane through (0, 0, 3) normal (0, 0, 1) x (1, 0, 0)
  point P0 (0, 0)
properties part number "Braille Wheel"
